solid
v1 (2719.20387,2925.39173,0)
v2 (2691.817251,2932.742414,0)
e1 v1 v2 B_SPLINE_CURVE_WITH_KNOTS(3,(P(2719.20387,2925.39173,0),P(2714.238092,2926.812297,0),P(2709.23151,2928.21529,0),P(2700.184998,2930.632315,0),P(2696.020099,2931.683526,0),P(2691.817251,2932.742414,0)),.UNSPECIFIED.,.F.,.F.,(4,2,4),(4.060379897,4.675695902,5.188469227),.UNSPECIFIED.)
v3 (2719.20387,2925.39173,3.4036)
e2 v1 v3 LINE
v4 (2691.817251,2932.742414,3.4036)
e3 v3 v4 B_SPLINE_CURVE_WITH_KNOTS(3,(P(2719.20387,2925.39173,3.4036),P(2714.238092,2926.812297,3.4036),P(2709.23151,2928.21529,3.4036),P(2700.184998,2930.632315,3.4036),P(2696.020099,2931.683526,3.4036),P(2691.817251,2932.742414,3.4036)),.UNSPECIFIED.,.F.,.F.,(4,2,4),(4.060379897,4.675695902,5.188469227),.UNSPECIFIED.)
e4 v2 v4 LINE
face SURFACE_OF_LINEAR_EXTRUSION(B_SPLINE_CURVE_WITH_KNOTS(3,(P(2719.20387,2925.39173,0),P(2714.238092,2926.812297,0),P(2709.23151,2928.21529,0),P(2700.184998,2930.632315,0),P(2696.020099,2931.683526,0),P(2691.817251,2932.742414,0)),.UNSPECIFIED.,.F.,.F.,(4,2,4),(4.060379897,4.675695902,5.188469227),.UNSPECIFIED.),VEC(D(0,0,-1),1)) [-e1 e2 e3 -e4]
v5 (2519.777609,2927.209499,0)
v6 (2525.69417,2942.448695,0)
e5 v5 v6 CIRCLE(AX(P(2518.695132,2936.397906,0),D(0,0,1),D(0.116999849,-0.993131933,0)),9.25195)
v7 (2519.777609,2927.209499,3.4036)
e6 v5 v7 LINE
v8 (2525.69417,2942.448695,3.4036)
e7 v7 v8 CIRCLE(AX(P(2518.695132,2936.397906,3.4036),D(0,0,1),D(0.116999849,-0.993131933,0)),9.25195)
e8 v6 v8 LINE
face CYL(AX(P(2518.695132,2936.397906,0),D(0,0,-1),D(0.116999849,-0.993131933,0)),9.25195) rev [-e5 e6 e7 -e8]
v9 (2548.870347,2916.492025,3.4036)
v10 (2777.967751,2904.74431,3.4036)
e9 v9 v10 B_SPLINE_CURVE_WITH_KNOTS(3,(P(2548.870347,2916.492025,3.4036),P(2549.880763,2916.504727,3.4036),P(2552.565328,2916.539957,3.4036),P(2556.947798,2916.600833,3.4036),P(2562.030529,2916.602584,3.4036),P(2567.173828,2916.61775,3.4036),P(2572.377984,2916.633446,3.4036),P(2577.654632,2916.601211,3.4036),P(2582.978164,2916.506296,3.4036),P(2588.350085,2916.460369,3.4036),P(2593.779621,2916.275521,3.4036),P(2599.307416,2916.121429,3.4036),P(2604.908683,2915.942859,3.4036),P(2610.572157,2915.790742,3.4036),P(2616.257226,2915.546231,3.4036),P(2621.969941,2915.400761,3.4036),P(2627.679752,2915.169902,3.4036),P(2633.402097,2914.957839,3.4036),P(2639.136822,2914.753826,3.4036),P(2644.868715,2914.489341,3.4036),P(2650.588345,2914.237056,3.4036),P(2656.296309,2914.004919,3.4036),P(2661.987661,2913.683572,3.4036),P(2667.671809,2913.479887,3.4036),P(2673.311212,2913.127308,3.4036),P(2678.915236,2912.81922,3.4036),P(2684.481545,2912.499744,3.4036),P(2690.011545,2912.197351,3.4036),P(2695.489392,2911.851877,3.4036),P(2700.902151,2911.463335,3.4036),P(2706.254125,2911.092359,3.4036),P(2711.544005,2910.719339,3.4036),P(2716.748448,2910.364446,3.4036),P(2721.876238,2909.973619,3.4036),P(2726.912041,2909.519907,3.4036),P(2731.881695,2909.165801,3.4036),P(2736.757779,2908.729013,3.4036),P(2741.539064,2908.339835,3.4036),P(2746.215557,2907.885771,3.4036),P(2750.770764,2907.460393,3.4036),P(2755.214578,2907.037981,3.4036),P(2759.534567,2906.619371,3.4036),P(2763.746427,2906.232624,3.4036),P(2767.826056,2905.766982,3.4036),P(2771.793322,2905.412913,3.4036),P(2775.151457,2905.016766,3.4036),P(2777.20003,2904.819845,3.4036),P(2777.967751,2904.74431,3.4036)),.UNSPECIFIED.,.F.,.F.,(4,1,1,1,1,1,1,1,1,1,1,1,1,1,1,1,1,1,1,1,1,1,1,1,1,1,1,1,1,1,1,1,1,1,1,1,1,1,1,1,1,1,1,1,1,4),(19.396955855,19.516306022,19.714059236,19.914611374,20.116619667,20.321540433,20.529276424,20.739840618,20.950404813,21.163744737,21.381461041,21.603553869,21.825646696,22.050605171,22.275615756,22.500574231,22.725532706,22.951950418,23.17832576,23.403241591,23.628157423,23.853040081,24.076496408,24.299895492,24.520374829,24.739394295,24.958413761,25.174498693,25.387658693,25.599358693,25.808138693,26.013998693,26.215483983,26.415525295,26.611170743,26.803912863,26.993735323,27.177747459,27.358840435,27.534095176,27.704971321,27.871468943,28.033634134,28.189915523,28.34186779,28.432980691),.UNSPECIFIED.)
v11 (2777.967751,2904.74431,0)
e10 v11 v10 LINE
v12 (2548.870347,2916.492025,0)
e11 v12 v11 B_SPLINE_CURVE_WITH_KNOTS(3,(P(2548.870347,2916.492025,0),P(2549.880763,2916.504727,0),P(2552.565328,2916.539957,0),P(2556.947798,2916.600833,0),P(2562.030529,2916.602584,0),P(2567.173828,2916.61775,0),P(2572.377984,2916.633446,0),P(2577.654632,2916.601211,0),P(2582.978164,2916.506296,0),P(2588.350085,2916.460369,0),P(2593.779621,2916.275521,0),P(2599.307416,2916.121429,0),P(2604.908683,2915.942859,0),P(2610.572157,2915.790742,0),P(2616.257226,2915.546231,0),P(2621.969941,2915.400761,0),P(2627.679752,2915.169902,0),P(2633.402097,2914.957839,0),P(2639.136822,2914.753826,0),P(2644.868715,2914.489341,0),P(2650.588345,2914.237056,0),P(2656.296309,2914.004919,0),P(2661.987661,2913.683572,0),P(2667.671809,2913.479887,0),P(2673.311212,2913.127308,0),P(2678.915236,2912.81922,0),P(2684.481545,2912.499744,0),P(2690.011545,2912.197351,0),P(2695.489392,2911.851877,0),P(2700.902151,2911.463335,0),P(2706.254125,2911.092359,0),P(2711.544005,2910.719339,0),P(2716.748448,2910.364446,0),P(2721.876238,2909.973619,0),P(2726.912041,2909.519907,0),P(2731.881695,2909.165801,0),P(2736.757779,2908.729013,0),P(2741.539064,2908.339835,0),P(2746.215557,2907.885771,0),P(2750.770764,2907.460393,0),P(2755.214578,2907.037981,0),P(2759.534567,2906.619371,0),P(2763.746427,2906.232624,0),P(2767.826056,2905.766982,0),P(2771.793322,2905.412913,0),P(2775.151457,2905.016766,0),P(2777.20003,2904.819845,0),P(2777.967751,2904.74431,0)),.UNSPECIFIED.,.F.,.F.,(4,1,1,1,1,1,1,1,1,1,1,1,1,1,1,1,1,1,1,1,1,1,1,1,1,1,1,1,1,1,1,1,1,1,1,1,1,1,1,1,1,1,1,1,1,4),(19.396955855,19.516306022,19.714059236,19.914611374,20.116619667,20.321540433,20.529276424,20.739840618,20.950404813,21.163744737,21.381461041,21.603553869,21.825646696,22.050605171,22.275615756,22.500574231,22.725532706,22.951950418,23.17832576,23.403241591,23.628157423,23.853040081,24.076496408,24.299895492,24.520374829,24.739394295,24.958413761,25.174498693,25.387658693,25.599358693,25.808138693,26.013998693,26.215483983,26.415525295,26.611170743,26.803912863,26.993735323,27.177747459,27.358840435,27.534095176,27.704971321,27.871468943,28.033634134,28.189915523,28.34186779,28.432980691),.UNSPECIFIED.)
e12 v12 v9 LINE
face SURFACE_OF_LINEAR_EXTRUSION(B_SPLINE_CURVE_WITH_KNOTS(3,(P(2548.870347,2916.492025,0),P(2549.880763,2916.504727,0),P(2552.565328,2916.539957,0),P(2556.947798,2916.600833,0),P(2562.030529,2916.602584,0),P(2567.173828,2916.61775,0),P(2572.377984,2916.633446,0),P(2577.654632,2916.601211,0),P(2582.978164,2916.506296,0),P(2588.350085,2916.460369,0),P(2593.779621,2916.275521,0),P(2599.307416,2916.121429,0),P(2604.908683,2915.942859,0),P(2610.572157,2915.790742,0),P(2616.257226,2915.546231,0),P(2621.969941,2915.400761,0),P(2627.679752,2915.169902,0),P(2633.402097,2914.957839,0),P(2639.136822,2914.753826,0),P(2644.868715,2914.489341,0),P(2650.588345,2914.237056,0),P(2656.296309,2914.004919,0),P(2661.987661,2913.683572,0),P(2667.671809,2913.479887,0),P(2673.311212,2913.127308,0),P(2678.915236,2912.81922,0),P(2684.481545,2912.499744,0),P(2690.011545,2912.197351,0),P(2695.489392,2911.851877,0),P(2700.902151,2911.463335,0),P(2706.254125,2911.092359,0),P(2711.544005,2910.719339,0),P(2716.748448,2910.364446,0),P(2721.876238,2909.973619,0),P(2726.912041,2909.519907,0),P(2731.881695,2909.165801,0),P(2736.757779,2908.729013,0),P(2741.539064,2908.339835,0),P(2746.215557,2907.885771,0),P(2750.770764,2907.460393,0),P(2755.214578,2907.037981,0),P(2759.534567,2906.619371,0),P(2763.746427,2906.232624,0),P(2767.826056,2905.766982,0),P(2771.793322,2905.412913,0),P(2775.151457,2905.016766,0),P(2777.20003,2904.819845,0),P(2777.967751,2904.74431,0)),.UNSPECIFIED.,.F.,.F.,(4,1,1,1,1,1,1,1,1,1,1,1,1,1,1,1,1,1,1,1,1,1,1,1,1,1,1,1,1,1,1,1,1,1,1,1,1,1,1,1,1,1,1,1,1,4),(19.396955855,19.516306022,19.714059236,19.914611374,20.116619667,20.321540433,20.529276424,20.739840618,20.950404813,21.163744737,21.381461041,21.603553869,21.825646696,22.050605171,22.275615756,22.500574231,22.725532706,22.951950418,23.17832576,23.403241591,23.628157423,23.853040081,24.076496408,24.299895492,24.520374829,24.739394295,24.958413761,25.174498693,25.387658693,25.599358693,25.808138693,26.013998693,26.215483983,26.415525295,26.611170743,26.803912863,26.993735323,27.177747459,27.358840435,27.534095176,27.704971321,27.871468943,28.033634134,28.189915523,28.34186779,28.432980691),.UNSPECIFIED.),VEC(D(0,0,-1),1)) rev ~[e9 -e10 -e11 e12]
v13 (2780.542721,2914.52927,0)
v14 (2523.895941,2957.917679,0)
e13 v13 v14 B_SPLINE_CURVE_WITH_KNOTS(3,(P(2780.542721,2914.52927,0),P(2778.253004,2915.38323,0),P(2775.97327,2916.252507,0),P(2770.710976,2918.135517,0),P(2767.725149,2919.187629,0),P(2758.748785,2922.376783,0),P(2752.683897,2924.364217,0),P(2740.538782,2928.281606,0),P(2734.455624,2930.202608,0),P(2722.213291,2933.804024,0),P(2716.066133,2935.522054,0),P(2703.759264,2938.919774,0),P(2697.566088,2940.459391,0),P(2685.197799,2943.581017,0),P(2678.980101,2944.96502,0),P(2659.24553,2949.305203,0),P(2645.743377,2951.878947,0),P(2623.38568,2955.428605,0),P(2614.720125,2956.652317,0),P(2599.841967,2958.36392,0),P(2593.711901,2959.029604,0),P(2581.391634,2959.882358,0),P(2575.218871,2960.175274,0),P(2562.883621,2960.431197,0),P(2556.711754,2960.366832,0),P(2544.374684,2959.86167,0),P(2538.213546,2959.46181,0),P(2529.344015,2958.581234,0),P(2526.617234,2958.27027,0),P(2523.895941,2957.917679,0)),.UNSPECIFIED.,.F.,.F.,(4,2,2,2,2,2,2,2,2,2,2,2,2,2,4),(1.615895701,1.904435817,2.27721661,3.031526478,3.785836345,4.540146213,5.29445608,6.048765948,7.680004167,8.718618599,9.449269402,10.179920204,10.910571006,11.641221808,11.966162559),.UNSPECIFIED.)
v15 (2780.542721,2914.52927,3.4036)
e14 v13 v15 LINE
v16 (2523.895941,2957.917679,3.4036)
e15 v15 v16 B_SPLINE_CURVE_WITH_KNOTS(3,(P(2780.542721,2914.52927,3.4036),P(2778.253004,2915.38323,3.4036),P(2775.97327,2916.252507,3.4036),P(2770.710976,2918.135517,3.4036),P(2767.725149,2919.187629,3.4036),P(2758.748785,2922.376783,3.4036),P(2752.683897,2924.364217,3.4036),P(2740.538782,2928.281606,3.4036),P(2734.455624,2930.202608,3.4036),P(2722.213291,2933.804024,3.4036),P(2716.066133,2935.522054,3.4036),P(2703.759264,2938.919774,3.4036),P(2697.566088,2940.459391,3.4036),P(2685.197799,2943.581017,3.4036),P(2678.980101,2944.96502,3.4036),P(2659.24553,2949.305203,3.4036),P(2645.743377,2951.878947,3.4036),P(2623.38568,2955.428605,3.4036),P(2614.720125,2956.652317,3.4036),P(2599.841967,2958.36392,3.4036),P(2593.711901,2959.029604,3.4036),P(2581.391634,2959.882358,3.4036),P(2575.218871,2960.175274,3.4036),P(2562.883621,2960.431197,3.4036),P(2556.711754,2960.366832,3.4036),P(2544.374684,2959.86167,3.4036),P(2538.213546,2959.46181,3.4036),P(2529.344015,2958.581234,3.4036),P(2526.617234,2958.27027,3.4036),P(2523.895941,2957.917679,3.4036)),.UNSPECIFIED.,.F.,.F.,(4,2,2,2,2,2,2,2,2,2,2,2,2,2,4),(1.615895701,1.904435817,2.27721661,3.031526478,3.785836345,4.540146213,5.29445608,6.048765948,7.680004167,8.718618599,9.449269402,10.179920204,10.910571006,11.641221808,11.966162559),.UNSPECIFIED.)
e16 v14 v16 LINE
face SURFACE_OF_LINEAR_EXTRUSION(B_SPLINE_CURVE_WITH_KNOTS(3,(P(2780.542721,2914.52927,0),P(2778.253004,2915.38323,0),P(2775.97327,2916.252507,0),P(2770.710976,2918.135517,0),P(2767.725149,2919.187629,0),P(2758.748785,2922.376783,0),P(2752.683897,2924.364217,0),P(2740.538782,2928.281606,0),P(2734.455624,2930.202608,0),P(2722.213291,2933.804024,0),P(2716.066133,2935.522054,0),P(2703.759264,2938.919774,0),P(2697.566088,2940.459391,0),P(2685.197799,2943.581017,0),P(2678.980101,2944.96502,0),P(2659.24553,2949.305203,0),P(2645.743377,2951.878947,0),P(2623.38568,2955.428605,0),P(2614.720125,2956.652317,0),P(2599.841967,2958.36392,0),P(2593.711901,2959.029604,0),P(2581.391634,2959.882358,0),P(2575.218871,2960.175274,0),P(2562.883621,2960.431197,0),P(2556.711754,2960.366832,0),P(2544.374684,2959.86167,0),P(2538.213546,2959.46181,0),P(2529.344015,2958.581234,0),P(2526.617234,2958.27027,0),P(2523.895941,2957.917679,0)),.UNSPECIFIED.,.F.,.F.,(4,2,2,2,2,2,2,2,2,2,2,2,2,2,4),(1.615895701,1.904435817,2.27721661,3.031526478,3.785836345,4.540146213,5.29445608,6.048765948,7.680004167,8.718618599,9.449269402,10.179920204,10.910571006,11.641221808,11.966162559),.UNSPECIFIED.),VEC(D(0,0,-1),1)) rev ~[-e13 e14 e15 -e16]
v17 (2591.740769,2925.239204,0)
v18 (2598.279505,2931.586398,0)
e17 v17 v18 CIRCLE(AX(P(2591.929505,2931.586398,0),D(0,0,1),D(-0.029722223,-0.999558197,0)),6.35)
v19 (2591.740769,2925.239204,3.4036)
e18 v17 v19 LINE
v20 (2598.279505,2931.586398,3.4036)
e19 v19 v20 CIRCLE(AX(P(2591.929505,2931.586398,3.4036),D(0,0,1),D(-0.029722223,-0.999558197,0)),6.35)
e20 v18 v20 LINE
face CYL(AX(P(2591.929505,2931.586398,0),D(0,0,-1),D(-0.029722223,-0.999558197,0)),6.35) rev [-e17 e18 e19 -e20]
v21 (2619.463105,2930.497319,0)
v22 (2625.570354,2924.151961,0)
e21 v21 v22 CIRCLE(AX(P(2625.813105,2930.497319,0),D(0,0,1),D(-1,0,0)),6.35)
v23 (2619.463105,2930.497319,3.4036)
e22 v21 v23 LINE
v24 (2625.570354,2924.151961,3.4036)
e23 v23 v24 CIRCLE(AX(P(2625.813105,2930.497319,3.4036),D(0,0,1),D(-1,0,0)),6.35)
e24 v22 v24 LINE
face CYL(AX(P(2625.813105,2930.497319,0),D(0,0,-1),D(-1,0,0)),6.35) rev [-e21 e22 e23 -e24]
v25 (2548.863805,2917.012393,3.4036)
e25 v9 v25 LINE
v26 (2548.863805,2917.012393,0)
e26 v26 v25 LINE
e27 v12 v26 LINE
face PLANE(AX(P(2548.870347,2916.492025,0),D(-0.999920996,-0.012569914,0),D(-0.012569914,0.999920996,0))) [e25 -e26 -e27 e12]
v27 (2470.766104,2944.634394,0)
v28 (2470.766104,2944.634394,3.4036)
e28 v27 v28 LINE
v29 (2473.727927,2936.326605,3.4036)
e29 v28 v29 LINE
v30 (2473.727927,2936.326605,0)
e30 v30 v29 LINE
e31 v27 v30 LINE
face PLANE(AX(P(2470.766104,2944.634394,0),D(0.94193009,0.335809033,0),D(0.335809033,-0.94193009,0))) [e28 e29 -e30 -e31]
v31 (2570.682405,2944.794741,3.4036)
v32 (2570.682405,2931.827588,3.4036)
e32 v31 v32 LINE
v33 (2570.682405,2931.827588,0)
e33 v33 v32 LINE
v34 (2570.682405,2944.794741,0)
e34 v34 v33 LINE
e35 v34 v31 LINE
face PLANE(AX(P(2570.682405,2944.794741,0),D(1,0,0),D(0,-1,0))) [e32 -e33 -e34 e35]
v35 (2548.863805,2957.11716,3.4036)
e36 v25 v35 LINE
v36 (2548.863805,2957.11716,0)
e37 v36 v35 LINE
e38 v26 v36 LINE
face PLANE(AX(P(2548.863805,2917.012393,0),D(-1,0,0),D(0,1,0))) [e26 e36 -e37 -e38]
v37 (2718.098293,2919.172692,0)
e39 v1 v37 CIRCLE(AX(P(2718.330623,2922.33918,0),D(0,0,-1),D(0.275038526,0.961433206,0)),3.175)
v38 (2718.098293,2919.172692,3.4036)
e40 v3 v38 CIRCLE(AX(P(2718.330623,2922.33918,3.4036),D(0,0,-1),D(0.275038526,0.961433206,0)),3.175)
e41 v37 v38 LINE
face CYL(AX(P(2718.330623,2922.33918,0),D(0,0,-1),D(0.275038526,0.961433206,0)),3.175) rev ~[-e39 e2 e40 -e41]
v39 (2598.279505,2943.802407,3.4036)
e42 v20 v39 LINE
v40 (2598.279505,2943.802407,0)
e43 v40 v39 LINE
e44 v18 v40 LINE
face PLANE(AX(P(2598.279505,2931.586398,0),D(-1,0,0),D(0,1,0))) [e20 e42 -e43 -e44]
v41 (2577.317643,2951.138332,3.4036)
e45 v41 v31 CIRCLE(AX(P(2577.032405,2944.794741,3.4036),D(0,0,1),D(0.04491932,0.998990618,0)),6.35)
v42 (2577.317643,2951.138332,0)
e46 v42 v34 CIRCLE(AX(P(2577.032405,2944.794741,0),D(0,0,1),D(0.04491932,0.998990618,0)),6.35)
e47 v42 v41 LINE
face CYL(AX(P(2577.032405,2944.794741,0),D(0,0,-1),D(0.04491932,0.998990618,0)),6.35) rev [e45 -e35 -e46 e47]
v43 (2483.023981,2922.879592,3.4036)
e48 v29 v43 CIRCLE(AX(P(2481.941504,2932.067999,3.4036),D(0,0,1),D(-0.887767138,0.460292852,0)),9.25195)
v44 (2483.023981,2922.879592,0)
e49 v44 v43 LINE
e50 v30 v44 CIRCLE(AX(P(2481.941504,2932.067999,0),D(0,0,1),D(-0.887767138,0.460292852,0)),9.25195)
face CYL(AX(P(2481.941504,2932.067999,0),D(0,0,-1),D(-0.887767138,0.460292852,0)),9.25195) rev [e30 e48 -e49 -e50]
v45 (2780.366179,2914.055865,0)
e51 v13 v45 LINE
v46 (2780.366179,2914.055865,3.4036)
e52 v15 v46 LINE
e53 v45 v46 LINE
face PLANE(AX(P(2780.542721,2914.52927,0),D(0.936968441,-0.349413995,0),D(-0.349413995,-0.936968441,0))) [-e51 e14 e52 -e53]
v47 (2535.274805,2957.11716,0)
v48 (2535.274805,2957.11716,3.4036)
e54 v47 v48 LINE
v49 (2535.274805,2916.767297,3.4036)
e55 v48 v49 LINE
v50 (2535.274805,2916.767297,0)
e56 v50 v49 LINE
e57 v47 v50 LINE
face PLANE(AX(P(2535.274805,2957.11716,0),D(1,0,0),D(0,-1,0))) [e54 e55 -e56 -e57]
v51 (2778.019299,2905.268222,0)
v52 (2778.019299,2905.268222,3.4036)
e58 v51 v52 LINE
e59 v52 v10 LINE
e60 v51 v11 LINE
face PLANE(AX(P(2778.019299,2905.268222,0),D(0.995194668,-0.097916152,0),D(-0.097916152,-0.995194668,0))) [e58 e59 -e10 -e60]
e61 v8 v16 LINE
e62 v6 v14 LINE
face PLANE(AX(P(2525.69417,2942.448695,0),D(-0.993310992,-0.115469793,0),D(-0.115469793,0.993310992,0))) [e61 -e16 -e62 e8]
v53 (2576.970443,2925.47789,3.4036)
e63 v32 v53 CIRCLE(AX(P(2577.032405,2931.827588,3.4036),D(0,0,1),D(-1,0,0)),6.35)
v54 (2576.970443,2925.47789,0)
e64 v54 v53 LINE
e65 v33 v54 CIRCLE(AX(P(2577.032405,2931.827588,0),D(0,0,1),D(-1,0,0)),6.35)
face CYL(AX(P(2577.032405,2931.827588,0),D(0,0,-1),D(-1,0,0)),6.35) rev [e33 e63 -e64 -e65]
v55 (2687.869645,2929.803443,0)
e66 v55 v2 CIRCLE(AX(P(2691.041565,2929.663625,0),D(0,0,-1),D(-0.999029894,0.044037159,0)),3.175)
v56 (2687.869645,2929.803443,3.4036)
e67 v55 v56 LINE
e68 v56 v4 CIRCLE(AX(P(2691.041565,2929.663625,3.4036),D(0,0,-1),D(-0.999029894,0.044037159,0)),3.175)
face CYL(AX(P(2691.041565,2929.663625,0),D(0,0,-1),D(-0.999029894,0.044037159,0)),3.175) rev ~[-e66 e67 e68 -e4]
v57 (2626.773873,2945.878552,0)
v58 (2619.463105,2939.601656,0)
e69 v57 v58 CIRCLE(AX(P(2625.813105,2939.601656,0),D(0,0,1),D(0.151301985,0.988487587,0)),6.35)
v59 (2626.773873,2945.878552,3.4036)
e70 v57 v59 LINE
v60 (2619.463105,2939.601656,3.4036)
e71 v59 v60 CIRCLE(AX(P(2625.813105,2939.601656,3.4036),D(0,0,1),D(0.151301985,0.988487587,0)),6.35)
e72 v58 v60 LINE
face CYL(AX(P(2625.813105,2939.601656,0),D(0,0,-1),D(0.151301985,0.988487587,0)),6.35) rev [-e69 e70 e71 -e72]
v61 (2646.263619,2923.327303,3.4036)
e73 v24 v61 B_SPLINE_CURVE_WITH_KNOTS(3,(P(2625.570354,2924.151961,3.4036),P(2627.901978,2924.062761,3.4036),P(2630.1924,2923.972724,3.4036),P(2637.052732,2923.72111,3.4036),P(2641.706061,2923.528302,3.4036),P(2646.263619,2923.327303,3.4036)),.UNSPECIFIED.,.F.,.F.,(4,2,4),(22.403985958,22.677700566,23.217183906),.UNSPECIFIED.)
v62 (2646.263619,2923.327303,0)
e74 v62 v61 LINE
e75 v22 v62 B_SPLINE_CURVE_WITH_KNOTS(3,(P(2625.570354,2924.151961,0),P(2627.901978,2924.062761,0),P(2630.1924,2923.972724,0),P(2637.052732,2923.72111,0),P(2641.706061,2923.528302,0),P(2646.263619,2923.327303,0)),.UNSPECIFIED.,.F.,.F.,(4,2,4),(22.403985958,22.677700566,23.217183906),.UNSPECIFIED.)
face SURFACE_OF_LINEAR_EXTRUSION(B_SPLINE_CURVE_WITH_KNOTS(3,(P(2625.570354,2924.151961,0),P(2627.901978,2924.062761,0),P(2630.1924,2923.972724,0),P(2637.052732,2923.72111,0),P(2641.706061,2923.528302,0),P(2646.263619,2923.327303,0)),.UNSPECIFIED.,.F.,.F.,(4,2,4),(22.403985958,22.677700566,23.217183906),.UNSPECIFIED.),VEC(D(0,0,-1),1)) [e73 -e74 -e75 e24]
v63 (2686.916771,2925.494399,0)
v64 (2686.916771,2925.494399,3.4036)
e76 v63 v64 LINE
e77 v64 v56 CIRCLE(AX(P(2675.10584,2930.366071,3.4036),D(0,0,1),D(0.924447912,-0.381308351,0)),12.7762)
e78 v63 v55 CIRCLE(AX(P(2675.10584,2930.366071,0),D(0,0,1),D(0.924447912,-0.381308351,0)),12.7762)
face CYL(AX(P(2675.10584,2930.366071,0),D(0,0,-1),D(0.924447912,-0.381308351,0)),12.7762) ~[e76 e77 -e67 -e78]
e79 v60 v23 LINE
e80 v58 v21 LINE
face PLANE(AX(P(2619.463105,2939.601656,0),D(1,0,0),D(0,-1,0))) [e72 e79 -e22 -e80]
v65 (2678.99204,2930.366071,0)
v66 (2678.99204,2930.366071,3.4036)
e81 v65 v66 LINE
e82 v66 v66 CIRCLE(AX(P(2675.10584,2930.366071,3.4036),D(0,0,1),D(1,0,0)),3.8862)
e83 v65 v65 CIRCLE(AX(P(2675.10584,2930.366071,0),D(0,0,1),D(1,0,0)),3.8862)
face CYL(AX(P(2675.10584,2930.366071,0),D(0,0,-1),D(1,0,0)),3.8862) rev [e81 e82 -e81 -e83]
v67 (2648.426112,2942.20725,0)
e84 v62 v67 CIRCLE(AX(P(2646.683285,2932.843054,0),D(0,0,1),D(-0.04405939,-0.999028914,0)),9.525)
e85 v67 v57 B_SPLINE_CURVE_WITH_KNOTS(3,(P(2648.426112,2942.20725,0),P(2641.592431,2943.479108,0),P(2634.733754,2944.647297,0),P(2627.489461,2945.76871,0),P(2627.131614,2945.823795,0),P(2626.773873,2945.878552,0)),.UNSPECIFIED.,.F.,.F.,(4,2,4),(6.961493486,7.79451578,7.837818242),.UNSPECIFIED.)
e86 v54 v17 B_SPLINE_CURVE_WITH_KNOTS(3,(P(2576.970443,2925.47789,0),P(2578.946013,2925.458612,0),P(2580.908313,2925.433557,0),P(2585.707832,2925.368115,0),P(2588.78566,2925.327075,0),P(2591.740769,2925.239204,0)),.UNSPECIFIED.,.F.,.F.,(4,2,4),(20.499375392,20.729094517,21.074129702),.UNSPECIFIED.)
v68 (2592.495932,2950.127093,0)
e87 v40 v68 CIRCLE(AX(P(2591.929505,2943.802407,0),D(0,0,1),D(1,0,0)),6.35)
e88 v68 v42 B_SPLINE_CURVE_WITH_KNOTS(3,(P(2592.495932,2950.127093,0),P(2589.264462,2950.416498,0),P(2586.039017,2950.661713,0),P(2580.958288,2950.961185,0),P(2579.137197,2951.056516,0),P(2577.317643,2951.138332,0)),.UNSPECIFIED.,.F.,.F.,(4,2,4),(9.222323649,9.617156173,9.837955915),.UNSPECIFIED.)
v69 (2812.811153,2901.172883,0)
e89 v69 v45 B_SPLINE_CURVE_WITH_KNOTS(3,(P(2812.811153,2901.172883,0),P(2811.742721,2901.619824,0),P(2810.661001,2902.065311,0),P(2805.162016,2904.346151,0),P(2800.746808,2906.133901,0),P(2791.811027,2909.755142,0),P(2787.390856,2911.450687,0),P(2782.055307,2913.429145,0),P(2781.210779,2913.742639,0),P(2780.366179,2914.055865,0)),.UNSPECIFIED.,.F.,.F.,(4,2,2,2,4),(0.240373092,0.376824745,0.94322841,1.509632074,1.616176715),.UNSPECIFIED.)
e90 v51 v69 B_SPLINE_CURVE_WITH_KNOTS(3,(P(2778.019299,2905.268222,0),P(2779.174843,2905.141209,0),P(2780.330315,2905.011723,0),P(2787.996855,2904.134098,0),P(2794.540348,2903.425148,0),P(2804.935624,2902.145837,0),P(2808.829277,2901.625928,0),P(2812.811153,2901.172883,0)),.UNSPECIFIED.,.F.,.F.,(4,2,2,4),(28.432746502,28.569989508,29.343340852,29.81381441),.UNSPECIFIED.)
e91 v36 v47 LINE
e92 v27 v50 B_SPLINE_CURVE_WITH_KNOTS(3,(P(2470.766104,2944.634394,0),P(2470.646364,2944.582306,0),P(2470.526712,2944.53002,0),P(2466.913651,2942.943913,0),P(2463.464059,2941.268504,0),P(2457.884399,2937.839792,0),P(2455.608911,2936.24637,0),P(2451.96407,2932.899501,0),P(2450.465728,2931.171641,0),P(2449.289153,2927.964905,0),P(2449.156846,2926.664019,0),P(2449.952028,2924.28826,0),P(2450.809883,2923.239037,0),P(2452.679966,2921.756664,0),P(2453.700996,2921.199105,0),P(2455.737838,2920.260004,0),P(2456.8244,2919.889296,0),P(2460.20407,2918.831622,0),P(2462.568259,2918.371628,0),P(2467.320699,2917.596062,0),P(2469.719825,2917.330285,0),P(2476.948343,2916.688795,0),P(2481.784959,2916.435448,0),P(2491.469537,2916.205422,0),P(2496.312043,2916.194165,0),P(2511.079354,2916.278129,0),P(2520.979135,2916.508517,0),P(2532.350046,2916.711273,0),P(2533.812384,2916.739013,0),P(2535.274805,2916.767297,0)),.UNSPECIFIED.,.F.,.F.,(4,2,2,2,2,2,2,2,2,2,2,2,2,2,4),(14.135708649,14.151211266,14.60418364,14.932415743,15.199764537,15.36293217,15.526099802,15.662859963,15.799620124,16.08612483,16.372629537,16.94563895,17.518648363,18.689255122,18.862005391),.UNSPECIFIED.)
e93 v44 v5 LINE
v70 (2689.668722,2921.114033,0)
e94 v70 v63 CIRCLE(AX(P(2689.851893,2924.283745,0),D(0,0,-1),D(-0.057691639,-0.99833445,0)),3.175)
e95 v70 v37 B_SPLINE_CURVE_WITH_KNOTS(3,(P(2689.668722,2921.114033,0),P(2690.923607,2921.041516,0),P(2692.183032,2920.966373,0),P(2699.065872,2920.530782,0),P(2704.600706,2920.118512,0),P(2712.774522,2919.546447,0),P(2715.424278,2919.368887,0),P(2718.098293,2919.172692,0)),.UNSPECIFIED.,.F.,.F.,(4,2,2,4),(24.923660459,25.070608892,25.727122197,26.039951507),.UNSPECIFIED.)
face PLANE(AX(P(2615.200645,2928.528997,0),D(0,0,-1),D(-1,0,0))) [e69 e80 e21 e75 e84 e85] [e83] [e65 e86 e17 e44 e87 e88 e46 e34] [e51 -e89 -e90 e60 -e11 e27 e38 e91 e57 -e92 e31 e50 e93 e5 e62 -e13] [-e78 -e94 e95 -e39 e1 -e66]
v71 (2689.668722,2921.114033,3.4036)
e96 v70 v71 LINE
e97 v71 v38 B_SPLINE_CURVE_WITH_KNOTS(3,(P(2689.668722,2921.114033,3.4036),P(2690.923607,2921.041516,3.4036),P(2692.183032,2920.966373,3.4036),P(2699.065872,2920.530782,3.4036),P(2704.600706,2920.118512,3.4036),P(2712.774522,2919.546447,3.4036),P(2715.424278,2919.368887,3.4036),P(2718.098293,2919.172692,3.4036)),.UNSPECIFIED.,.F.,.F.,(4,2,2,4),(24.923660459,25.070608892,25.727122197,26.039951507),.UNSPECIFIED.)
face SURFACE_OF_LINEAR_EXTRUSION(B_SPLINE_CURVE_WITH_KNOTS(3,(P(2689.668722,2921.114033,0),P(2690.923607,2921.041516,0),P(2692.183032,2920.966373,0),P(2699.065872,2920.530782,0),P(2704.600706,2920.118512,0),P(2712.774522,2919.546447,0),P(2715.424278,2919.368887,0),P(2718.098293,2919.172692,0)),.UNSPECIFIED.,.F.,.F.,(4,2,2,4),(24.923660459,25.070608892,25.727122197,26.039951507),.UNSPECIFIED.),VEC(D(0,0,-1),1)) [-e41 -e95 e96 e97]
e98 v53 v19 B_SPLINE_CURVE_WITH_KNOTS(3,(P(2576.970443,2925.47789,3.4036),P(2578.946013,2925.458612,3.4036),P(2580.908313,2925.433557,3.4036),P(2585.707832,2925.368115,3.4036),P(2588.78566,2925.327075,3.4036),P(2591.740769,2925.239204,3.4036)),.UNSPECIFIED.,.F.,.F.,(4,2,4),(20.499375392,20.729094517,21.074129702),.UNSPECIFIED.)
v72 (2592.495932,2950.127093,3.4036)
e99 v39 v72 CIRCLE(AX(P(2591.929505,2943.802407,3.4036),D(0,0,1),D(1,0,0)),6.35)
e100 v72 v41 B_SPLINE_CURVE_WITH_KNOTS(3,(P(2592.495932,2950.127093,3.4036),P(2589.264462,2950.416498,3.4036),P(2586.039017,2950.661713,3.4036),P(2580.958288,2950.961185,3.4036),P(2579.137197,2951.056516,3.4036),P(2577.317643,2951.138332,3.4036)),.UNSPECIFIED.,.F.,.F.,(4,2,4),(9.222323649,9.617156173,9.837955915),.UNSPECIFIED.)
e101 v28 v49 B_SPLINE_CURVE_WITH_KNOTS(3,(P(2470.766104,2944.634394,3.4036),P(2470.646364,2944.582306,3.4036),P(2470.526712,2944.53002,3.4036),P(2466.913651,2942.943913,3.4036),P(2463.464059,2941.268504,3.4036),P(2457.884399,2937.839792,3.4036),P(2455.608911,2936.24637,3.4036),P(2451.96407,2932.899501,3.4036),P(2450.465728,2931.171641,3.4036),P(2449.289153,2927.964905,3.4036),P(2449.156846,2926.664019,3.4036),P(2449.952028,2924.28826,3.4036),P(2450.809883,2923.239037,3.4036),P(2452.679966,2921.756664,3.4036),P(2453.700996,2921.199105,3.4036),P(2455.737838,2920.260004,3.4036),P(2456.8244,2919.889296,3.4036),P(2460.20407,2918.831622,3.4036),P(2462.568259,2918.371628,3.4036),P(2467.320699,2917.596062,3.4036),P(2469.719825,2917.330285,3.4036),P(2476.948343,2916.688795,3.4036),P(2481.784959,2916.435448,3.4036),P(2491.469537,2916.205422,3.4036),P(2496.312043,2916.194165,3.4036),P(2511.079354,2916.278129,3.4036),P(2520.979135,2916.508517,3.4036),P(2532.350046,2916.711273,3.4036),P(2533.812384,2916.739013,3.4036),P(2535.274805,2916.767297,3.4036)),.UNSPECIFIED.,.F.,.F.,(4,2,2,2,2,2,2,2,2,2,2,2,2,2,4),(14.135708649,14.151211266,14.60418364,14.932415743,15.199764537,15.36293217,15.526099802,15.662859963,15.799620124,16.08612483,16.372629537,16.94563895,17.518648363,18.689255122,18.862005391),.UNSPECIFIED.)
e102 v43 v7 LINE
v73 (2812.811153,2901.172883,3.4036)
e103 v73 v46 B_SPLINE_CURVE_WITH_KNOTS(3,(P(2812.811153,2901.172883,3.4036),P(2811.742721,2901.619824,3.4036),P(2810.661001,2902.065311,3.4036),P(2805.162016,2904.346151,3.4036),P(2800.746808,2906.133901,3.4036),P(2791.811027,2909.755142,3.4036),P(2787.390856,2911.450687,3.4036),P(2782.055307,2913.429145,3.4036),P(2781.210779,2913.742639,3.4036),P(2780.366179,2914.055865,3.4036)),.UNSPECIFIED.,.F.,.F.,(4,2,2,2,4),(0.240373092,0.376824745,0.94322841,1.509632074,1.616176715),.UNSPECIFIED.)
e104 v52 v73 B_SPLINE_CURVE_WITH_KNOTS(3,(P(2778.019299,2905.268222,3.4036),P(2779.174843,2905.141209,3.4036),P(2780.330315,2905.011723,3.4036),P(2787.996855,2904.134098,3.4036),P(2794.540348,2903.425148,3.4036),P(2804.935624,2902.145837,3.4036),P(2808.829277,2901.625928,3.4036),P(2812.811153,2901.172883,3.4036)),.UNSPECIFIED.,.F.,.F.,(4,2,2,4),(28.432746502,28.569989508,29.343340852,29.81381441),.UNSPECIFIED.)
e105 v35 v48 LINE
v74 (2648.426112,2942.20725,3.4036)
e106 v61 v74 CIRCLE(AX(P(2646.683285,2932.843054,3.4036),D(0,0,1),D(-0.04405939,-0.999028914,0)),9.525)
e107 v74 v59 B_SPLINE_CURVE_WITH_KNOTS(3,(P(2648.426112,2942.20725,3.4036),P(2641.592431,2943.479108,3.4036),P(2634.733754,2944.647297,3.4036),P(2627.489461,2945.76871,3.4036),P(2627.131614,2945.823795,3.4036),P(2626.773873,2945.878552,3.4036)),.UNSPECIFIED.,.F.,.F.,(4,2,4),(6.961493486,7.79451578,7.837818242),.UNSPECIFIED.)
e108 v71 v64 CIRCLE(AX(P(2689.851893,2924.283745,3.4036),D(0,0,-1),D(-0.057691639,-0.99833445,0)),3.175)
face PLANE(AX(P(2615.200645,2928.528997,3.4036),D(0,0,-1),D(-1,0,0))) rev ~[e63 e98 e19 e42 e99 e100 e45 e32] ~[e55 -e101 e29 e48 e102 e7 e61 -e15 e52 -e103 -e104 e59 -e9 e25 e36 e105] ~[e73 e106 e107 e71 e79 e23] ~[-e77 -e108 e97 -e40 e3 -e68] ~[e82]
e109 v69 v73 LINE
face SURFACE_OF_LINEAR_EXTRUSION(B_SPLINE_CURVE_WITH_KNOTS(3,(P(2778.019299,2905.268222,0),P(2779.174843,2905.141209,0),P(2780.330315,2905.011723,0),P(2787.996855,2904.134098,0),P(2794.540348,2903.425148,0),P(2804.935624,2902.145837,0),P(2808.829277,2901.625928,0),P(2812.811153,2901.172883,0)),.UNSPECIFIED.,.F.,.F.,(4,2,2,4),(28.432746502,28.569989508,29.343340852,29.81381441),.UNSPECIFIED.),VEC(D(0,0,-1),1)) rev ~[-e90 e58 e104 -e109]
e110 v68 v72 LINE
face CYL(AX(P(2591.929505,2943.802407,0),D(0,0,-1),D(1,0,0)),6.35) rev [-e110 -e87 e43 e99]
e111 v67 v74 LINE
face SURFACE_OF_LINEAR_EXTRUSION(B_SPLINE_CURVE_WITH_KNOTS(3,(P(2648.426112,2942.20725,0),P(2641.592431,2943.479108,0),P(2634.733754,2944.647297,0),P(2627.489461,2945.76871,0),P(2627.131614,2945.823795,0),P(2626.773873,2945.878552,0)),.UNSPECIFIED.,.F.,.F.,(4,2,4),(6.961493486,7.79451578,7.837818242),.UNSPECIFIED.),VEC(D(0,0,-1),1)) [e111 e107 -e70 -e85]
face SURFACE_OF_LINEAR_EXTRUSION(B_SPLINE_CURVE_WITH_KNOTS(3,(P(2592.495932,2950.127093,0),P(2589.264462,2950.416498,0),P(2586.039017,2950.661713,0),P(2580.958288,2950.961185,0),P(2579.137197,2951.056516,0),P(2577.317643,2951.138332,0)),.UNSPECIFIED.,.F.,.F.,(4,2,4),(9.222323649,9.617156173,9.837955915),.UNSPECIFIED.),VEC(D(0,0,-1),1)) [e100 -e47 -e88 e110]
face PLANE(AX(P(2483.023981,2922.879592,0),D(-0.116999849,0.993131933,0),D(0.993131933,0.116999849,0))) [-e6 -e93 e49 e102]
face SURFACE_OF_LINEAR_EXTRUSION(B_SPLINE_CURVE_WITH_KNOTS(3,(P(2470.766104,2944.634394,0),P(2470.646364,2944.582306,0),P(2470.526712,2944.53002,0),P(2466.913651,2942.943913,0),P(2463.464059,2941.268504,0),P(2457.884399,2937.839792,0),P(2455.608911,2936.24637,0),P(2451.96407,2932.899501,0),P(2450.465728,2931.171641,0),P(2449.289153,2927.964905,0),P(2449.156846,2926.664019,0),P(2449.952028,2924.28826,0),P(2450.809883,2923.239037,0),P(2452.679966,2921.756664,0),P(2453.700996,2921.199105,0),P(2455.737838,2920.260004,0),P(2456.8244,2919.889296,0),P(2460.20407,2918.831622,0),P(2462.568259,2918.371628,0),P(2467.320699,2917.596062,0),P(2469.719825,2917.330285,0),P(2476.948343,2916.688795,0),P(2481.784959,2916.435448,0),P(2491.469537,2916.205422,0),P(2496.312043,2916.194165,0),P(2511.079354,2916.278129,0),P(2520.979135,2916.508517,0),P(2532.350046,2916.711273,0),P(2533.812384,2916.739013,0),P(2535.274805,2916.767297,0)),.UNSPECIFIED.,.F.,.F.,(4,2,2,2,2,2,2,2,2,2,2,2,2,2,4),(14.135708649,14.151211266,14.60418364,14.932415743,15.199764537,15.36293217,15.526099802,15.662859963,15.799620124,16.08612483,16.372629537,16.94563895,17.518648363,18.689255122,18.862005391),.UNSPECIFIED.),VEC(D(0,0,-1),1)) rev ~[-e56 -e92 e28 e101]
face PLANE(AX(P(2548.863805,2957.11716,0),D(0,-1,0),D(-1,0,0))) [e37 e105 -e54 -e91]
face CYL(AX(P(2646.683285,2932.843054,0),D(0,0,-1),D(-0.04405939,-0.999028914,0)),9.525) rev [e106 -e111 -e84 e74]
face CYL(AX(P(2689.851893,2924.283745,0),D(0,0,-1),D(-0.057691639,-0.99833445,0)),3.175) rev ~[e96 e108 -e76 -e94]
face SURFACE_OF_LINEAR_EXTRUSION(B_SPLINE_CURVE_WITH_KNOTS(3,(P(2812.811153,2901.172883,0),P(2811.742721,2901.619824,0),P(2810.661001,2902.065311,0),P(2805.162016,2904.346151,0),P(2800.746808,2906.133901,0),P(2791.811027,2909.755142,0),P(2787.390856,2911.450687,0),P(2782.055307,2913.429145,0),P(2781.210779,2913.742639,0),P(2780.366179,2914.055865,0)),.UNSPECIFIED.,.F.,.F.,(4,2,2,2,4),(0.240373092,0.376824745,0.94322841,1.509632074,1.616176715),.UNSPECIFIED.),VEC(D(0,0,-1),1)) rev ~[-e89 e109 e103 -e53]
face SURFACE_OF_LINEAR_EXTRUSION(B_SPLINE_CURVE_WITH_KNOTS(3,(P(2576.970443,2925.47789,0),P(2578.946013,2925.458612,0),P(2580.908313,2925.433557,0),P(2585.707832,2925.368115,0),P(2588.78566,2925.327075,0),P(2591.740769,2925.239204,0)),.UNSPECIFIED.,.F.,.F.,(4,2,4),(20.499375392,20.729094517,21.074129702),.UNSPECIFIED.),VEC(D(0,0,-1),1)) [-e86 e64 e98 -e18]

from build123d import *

# Parameters (mm, degrees)
SKETCH1_R           = 3.8862
BOSS_EXTRUDE1_DEPTH = 3.4036


with BuildPart() as part:
    # Sketch1 → Boss-Extrude1 (new body)
    with BuildSketch(Plane.XY):
        with BuildLine():
            Line((2483.023980975, 2922.879591687), (2519.777608908, 2927.20949869))
            ThreePointArc((2519.777608908, 2927.20949869), (2527.319863632, 2933.049385734), (2525.694170086, 2942.448694619))
            Line((2525.694170086, 2942.448694619), (2523.895941315, 2957.917678802))
            add(Edge.make_bspline(
                [(2780.542721306, 2914.529270217), (2778.253003884, 2915.383230056), (2775.973270324, 2916.252507472), (2770.710976164, 2918.135517361), (2767.725148574, 2919.187629166), (2758.748784649, 2922.376783211), (2752.683897054, 2924.364216578), (2740.538782354, 2928.281606169), (2734.455623744, 2930.202608214), (2722.213291432, 2933.804023839), (2716.066133268, 2935.522053802), (2703.759263564, 2938.919774314), (2697.56608772, 2940.459391466), (2685.197798544, 2943.58101684), (2678.980101095, 2944.965020182), (2659.245529669, 2949.305202793), (2645.743376553, 2951.878946596), (2623.385680041, 2955.42860469), (2614.720124938, 2956.652317038), (2599.841966526, 2958.36392012), (2593.711900835, 2959.029603565), (2581.391633876, 2959.882358149), (2575.218871474, 2960.175273737), (2562.883621226, 2960.431197012), (2556.711754315, 2960.366832438), (2544.37468429, 2959.861670338), (2538.213546048, 2959.461809989), (2529.344015147, 2958.58123427), (2526.617234193, 2958.270269513), (2523.895941315, 2957.917678802)],
                knots=[1.615895701, 1.615895701, 1.615895701, 1.615895701, 1.904435817, 1.904435817, 2.27721661, 2.27721661, 3.031526478, 3.031526478, 3.785836345, 3.785836345, 4.540146213, 4.540146213, 5.29445608, 5.29445608, 6.048765948, 6.048765948, 7.680004167, 7.680004167, 8.718618599, 8.718618599, 9.449269402, 9.449269402, 10.179920204, 10.179920204, 10.910571006, 10.910571006, 11.641221808, 11.641221808, 11.966162559, 11.966162559, 11.966162559, 11.966162559], degree=3))
            Line((2780.542721306, 2914.529270217), (2780.366179259, 2914.055865234))
            add(Edge.make_bspline(
                [(2812.811153408, 2901.172882782), (2811.742721472, 2901.619823869), (2810.661000778, 2902.065310891), (2805.162016263, 2904.346151034), (2800.746808293, 2906.133900582), (2791.811027497, 2909.75514214), (2787.390855916, 2911.450686961), (2782.055306735, 2913.429144729), (2781.210779035, 2913.742639084), (2780.366179259, 2914.055865234)],
                knots=[0.240373092, 0.240373092, 0.240373092, 0.240373092, 0.376824745, 0.376824745, 0.94322841, 0.94322841, 1.509632074, 1.509632074, 1.616176715, 1.616176715, 1.616176715, 1.616176715], degree=3))
            add(Edge.make_bspline(
                [(2778.019298543, 2905.268221897), (2779.174843082, 2905.141208585), (2780.33031454, 2905.011723055), (2787.996855373, 2904.13409815), (2794.540348084, 2903.425147632), (2804.935623835, 2902.145836788), (2808.829276968, 2901.625927636), (2812.811153408, 2901.172882782)],
                knots=[28.432746502, 28.432746502, 28.432746502, 28.432746502, 28.569989508, 28.569989508, 29.343340852, 29.343340852, 29.81381441, 29.81381441, 29.81381441, 29.81381441], degree=3))
            Line((2778.019298543, 2905.268221897), (2777.967751396, 2904.744309907))
            add(Edge.make_bspline(
                [(2548.870346536, 2916.492025464), (2549.880763048, 2916.504727314), (2552.565327641, 2916.539957413), (2556.947797606, 2916.600833489), (2562.030529235, 2916.602584186), (2567.173828356, 2916.617749693), (2572.377983544, 2916.633446074), (2577.654631688, 2916.60121101), (2582.978163683, 2916.506296333), (2588.350084988, 2916.460369428), (2593.779620592, 2916.275520794), (2599.307416132, 2916.121429226), (2604.908682597, 2915.942858659), (2610.572157053, 2915.7907425), (2616.257225785, 2915.546231142), (2621.969941233, 2915.400761443), (2627.679751972, 2915.169902487), (2633.40209681, 2914.957839244), (2639.136822152, 2914.753826197), (2644.868715349, 2914.489340909), (2650.588345306, 2914.237056417), (2656.296308508, 2914.0049192), (2661.987661359, 2913.683572201), (2667.671808974, 2913.479887199), (2673.311212153, 2913.12730793), (2678.915236244, 2912.81922031), (2684.481545426, 2912.499744001), (2690.011544993, 2912.197350816), (2695.489391996, 2911.851877341), (2700.902150582, 2911.46333457), (2706.254125464, 2911.092358664), (2711.544005033, 2910.719338581), (2716.748448208, 2910.364445801), (2721.876237554, 2909.97361868), (2726.912041029, 2909.519906738), (2731.881695192, 2909.165801077), (2736.757779223, 2908.729013424), (2741.539063821, 2908.339834691), (2746.215557291, 2907.885770826), (2750.770763986, 2907.460392739), (2755.214578157, 2907.037980676), (2759.534567055, 2906.61937141), (2763.74642736, 2906.232624217), (2767.826055945, 2905.766981735), (2771.793322217, 2905.412913174), (2775.151456937, 2905.016765849), (2777.200029602, 2904.819845242), (2777.967751396, 2904.744309907)],
                knots=[19.396955855, 19.396955855, 19.396955855, 19.396955855, 19.516306022, 19.714059236, 19.914611374, 20.116619667, 20.321540433, 20.529276424, 20.739840618, 20.950404813, 21.163744737, 21.381461041, 21.603553869, 21.825646696, 22.050605171, 22.275615756, 22.500574231, 22.725532706, 22.951950418, 23.17832576, 23.403241591, 23.628157423, 23.853040081, 24.076496408, 24.299895492, 24.520374829, 24.739394295, 24.958413761, 25.174498693, 25.387658693, 25.599358693, 25.808138693, 26.013998693, 26.215483983, 26.415525295, 26.611170743, 26.803912863, 26.993735323, 27.177747459, 27.358840435, 27.534095176, 27.704971321, 27.871468943, 28.033634134, 28.189915523, 28.34186779, 28.432980691, 28.432980691, 28.432980691, 28.432980691], degree=3))
            Line((2548.870346536, 2916.492025464), (2548.863805049, 2917.012392612))
            Line((2548.863805049, 2917.012392612), (2548.863805049, 2957.117159755))
            Line((2548.863805049, 2957.117159755), (2535.274805049, 2957.117159755))
            Line((2535.274805049, 2957.117159755), (2535.274805049, 2916.767297235))
            add(Edge.make_bspline(
                [(2470.766103702, 2944.634393971), (2470.646363815, 2944.582306298), (2470.526712246, 2944.530019788), (2466.913650609, 2942.943913199), (2463.464058775, 2941.268503699), (2457.884399007, 2937.839792176), (2455.608911301, 2936.246369969), (2451.964070041, 2932.8995014), (2450.465728267, 2931.171640714), (2449.289153427, 2927.964904632), (2449.156845546, 2926.664019066), (2449.952027869, 2924.288260351), (2450.809883366, 2923.239037065), (2452.679965619, 2921.756663811), (2453.700996299, 2921.199104676), (2455.737837909, 2920.260004144), (2456.824400221, 2919.88929622), (2460.204069688, 2918.831622145), (2462.568258916, 2918.371628463), (2467.320698583, 2917.596061883), (2469.719825171, 2917.330285057), (2476.948343474, 2916.688795145), (2481.784959026, 2916.435447913), (2491.469537197, 2916.205421666), (2496.312043463, 2916.194165047), (2511.07935418, 2916.278128573), (2520.979134882, 2916.50851683), (2532.350045622, 2916.711273345), (2533.812383917, 2916.739013275), (2535.274805049, 2916.767297235)],
                knots=[14.135708649, 14.135708649, 14.135708649, 14.135708649, 14.151211266, 14.151211266, 14.60418364, 14.60418364, 14.932415743, 14.932415743, 15.199764537, 15.199764537, 15.36293217, 15.36293217, 15.526099802, 15.526099802, 15.662859963, 15.662859963, 15.799620124, 15.799620124, 16.08612483, 16.08612483, 16.372629537, 16.372629537, 16.94563895, 16.94563895, 17.518648363, 17.518648363, 18.689255122, 18.689255122, 18.862005391, 18.862005391, 18.862005391, 18.862005391], degree=3))
            Line((2470.766103702, 2944.634393971), (2473.727927056, 2936.326605121))
            ThreePointArc((2473.727927056, 2936.326605121), (2474.331071197, 2926.806830745), (2483.023980975, 2922.879591687))
        make_face()
        with Locations((2675.105839614, 2930.366070938)):
            Circle(SKETCH1_R, mode=Mode.SUBTRACT)
        with BuildLine():
            Line((2570.682405049, 2944.794741249), (2570.682405049, 2931.827587658))
            ThreePointArc((2570.682405049, 2931.827587658), (2572.520423319, 2927.359420152), (2576.970443117, 2925.477889971))
            add(Edge.make_bspline(
                [(2576.970443117, 2925.477889971), (2578.946013457, 2925.458611863), (2580.908312845, 2925.433557065), (2585.707832405, 2925.368115189), (2588.785659852, 2925.327075025), (2591.740768935, 2925.239203793)],
                knots=[20.499375392, 20.499375392, 20.499375392, 20.499375392, 20.729094517, 20.729094517, 21.074129702, 21.074129702, 21.074129702, 21.074129702], degree=3))
            ThreePointArc((2591.740768935, 2925.239203793), (2596.35240148, 2927.030030585), (2598.279505049, 2931.586398345))
            Line((2598.279505049, 2931.586398345), (2598.279505049, 2943.802406816))
            ThreePointArc((2598.279505049, 2943.802406816), (2596.615617992, 2948.087595901), (2592.495931666, 2950.12709344))
            add(Edge.make_bspline(
                [(2592.495931666, 2950.12709344), (2589.264462047, 2950.416497566), (2586.039016785, 2950.661712776), (2580.958288395, 2950.96118464), (2579.137197366, 2951.056515933), (2577.317642729, 2951.138331673)],
                knots=[9.222323649, 9.222323649, 9.222323649, 9.222323649, 9.617156173, 9.617156173, 9.837955915, 9.837955915, 9.837955915, 9.837955915], degree=3))
            ThreePointArc((2577.317642729, 2951.138331673), (2572.644282402, 2949.38460831), (2570.682405049, 2944.794741249))
        make_face(mode=Mode.SUBTRACT)
        with BuildLine():
            Line((2619.463105049, 2939.60165617), (2619.463105049, 2930.497318936))
            ThreePointArc((2619.463105049, 2930.497318936), (2621.237956538, 2926.093852564), (2625.570354214, 2924.15196063))
            add(Edge.make_bspline(
                [(2625.570354214, 2924.15196063), (2627.901978398, 2924.062760984), (2630.192399624, 2923.972723927), (2637.052732353, 2923.721110449), (2641.706061455, 2923.528301657), (2646.263618968, 2923.327303264)],
                knots=[22.403985958, 22.403985958, 22.403985958, 22.403985958, 22.677700566, 22.677700566, 23.217183906, 23.217183906, 23.217183906, 23.217183906], degree=3))
            ThreePointArc((2646.263618968, 2923.327303264), (2656.146412526, 2931.759155132), (2648.426111877, 2942.207250284))
            add(Edge.make_bspline(
                [(2648.426111877, 2942.207250284), (2641.59243129, 2943.47910787), (2634.73375431, 2944.647297407), (2627.489460935, 2945.76871043), (2627.131613624, 2945.823795039), (2626.773872655, 2945.878552347)],
                knots=[6.961493486, 6.961493486, 6.961493486, 6.961493486, 7.79451578, 7.79451578, 7.837818242, 7.837818242, 7.837818242, 7.837818242], degree=3))
            ThreePointArc((2626.773872655, 2945.878552347), (2621.676583219, 2944.419507055), (2619.463105049, 2939.60165617))
        make_face(mode=Mode.SUBTRACT)
        with BuildLine():
            ThreePointArc((2686.916771023, 2925.494399181), (2687.580669946, 2927.607467192), (2687.869645343, 2929.80344338))
            ThreePointArc((2687.869645343, 2929.80344338), (2689.145550797, 2932.210339787), (2691.817251109, 2932.742413546))
            add(Edge.make_bspline(
                [(2719.203869949, 2925.391730292), (2714.238092072, 2926.81229723), (2709.231509514, 2928.215290454), (2700.184998092, 2930.632315246), (2696.020099344, 2931.683526164), (2691.817251109, 2932.742413546)],
                knots=[4.060379897, 4.060379897, 4.060379897, 4.060379897, 4.675695902, 4.675695902, 5.188469227, 5.188469227, 5.188469227, 5.188469227], degree=3))
            ThreePointArc((2719.203869949, 2925.391730292), (2721.456611216, 2921.783463788), (2718.098293363, 2919.17269157))
            add(Edge.make_bspline(
                [(2689.668722188, 2921.114033287), (2690.923606701, 2921.041516161), (2692.18303199, 2920.966372676), (2699.065872366, 2920.530782285), (2704.600706314, 2920.118512178), (2712.774522449, 2919.546447051), (2715.42427843, 2919.368887441), (2718.098293363, 2919.17269157)],
                knots=[24.923660459, 24.923660459, 24.923660459, 24.923660459, 25.070608892, 25.070608892, 25.727122197, 25.727122197, 26.039951507, 26.039951507, 26.039951507, 26.039951507], degree=3))
            ThreePointArc((2689.668722188, 2921.114033287), (2687.163429033, 2922.594726003), (2686.916771023, 2925.494399181))
        make_face(mode=Mode.SUBTRACT)
    extrude(amount=BOSS_EXTRUDE1_DEPTH)


solid = part.part
